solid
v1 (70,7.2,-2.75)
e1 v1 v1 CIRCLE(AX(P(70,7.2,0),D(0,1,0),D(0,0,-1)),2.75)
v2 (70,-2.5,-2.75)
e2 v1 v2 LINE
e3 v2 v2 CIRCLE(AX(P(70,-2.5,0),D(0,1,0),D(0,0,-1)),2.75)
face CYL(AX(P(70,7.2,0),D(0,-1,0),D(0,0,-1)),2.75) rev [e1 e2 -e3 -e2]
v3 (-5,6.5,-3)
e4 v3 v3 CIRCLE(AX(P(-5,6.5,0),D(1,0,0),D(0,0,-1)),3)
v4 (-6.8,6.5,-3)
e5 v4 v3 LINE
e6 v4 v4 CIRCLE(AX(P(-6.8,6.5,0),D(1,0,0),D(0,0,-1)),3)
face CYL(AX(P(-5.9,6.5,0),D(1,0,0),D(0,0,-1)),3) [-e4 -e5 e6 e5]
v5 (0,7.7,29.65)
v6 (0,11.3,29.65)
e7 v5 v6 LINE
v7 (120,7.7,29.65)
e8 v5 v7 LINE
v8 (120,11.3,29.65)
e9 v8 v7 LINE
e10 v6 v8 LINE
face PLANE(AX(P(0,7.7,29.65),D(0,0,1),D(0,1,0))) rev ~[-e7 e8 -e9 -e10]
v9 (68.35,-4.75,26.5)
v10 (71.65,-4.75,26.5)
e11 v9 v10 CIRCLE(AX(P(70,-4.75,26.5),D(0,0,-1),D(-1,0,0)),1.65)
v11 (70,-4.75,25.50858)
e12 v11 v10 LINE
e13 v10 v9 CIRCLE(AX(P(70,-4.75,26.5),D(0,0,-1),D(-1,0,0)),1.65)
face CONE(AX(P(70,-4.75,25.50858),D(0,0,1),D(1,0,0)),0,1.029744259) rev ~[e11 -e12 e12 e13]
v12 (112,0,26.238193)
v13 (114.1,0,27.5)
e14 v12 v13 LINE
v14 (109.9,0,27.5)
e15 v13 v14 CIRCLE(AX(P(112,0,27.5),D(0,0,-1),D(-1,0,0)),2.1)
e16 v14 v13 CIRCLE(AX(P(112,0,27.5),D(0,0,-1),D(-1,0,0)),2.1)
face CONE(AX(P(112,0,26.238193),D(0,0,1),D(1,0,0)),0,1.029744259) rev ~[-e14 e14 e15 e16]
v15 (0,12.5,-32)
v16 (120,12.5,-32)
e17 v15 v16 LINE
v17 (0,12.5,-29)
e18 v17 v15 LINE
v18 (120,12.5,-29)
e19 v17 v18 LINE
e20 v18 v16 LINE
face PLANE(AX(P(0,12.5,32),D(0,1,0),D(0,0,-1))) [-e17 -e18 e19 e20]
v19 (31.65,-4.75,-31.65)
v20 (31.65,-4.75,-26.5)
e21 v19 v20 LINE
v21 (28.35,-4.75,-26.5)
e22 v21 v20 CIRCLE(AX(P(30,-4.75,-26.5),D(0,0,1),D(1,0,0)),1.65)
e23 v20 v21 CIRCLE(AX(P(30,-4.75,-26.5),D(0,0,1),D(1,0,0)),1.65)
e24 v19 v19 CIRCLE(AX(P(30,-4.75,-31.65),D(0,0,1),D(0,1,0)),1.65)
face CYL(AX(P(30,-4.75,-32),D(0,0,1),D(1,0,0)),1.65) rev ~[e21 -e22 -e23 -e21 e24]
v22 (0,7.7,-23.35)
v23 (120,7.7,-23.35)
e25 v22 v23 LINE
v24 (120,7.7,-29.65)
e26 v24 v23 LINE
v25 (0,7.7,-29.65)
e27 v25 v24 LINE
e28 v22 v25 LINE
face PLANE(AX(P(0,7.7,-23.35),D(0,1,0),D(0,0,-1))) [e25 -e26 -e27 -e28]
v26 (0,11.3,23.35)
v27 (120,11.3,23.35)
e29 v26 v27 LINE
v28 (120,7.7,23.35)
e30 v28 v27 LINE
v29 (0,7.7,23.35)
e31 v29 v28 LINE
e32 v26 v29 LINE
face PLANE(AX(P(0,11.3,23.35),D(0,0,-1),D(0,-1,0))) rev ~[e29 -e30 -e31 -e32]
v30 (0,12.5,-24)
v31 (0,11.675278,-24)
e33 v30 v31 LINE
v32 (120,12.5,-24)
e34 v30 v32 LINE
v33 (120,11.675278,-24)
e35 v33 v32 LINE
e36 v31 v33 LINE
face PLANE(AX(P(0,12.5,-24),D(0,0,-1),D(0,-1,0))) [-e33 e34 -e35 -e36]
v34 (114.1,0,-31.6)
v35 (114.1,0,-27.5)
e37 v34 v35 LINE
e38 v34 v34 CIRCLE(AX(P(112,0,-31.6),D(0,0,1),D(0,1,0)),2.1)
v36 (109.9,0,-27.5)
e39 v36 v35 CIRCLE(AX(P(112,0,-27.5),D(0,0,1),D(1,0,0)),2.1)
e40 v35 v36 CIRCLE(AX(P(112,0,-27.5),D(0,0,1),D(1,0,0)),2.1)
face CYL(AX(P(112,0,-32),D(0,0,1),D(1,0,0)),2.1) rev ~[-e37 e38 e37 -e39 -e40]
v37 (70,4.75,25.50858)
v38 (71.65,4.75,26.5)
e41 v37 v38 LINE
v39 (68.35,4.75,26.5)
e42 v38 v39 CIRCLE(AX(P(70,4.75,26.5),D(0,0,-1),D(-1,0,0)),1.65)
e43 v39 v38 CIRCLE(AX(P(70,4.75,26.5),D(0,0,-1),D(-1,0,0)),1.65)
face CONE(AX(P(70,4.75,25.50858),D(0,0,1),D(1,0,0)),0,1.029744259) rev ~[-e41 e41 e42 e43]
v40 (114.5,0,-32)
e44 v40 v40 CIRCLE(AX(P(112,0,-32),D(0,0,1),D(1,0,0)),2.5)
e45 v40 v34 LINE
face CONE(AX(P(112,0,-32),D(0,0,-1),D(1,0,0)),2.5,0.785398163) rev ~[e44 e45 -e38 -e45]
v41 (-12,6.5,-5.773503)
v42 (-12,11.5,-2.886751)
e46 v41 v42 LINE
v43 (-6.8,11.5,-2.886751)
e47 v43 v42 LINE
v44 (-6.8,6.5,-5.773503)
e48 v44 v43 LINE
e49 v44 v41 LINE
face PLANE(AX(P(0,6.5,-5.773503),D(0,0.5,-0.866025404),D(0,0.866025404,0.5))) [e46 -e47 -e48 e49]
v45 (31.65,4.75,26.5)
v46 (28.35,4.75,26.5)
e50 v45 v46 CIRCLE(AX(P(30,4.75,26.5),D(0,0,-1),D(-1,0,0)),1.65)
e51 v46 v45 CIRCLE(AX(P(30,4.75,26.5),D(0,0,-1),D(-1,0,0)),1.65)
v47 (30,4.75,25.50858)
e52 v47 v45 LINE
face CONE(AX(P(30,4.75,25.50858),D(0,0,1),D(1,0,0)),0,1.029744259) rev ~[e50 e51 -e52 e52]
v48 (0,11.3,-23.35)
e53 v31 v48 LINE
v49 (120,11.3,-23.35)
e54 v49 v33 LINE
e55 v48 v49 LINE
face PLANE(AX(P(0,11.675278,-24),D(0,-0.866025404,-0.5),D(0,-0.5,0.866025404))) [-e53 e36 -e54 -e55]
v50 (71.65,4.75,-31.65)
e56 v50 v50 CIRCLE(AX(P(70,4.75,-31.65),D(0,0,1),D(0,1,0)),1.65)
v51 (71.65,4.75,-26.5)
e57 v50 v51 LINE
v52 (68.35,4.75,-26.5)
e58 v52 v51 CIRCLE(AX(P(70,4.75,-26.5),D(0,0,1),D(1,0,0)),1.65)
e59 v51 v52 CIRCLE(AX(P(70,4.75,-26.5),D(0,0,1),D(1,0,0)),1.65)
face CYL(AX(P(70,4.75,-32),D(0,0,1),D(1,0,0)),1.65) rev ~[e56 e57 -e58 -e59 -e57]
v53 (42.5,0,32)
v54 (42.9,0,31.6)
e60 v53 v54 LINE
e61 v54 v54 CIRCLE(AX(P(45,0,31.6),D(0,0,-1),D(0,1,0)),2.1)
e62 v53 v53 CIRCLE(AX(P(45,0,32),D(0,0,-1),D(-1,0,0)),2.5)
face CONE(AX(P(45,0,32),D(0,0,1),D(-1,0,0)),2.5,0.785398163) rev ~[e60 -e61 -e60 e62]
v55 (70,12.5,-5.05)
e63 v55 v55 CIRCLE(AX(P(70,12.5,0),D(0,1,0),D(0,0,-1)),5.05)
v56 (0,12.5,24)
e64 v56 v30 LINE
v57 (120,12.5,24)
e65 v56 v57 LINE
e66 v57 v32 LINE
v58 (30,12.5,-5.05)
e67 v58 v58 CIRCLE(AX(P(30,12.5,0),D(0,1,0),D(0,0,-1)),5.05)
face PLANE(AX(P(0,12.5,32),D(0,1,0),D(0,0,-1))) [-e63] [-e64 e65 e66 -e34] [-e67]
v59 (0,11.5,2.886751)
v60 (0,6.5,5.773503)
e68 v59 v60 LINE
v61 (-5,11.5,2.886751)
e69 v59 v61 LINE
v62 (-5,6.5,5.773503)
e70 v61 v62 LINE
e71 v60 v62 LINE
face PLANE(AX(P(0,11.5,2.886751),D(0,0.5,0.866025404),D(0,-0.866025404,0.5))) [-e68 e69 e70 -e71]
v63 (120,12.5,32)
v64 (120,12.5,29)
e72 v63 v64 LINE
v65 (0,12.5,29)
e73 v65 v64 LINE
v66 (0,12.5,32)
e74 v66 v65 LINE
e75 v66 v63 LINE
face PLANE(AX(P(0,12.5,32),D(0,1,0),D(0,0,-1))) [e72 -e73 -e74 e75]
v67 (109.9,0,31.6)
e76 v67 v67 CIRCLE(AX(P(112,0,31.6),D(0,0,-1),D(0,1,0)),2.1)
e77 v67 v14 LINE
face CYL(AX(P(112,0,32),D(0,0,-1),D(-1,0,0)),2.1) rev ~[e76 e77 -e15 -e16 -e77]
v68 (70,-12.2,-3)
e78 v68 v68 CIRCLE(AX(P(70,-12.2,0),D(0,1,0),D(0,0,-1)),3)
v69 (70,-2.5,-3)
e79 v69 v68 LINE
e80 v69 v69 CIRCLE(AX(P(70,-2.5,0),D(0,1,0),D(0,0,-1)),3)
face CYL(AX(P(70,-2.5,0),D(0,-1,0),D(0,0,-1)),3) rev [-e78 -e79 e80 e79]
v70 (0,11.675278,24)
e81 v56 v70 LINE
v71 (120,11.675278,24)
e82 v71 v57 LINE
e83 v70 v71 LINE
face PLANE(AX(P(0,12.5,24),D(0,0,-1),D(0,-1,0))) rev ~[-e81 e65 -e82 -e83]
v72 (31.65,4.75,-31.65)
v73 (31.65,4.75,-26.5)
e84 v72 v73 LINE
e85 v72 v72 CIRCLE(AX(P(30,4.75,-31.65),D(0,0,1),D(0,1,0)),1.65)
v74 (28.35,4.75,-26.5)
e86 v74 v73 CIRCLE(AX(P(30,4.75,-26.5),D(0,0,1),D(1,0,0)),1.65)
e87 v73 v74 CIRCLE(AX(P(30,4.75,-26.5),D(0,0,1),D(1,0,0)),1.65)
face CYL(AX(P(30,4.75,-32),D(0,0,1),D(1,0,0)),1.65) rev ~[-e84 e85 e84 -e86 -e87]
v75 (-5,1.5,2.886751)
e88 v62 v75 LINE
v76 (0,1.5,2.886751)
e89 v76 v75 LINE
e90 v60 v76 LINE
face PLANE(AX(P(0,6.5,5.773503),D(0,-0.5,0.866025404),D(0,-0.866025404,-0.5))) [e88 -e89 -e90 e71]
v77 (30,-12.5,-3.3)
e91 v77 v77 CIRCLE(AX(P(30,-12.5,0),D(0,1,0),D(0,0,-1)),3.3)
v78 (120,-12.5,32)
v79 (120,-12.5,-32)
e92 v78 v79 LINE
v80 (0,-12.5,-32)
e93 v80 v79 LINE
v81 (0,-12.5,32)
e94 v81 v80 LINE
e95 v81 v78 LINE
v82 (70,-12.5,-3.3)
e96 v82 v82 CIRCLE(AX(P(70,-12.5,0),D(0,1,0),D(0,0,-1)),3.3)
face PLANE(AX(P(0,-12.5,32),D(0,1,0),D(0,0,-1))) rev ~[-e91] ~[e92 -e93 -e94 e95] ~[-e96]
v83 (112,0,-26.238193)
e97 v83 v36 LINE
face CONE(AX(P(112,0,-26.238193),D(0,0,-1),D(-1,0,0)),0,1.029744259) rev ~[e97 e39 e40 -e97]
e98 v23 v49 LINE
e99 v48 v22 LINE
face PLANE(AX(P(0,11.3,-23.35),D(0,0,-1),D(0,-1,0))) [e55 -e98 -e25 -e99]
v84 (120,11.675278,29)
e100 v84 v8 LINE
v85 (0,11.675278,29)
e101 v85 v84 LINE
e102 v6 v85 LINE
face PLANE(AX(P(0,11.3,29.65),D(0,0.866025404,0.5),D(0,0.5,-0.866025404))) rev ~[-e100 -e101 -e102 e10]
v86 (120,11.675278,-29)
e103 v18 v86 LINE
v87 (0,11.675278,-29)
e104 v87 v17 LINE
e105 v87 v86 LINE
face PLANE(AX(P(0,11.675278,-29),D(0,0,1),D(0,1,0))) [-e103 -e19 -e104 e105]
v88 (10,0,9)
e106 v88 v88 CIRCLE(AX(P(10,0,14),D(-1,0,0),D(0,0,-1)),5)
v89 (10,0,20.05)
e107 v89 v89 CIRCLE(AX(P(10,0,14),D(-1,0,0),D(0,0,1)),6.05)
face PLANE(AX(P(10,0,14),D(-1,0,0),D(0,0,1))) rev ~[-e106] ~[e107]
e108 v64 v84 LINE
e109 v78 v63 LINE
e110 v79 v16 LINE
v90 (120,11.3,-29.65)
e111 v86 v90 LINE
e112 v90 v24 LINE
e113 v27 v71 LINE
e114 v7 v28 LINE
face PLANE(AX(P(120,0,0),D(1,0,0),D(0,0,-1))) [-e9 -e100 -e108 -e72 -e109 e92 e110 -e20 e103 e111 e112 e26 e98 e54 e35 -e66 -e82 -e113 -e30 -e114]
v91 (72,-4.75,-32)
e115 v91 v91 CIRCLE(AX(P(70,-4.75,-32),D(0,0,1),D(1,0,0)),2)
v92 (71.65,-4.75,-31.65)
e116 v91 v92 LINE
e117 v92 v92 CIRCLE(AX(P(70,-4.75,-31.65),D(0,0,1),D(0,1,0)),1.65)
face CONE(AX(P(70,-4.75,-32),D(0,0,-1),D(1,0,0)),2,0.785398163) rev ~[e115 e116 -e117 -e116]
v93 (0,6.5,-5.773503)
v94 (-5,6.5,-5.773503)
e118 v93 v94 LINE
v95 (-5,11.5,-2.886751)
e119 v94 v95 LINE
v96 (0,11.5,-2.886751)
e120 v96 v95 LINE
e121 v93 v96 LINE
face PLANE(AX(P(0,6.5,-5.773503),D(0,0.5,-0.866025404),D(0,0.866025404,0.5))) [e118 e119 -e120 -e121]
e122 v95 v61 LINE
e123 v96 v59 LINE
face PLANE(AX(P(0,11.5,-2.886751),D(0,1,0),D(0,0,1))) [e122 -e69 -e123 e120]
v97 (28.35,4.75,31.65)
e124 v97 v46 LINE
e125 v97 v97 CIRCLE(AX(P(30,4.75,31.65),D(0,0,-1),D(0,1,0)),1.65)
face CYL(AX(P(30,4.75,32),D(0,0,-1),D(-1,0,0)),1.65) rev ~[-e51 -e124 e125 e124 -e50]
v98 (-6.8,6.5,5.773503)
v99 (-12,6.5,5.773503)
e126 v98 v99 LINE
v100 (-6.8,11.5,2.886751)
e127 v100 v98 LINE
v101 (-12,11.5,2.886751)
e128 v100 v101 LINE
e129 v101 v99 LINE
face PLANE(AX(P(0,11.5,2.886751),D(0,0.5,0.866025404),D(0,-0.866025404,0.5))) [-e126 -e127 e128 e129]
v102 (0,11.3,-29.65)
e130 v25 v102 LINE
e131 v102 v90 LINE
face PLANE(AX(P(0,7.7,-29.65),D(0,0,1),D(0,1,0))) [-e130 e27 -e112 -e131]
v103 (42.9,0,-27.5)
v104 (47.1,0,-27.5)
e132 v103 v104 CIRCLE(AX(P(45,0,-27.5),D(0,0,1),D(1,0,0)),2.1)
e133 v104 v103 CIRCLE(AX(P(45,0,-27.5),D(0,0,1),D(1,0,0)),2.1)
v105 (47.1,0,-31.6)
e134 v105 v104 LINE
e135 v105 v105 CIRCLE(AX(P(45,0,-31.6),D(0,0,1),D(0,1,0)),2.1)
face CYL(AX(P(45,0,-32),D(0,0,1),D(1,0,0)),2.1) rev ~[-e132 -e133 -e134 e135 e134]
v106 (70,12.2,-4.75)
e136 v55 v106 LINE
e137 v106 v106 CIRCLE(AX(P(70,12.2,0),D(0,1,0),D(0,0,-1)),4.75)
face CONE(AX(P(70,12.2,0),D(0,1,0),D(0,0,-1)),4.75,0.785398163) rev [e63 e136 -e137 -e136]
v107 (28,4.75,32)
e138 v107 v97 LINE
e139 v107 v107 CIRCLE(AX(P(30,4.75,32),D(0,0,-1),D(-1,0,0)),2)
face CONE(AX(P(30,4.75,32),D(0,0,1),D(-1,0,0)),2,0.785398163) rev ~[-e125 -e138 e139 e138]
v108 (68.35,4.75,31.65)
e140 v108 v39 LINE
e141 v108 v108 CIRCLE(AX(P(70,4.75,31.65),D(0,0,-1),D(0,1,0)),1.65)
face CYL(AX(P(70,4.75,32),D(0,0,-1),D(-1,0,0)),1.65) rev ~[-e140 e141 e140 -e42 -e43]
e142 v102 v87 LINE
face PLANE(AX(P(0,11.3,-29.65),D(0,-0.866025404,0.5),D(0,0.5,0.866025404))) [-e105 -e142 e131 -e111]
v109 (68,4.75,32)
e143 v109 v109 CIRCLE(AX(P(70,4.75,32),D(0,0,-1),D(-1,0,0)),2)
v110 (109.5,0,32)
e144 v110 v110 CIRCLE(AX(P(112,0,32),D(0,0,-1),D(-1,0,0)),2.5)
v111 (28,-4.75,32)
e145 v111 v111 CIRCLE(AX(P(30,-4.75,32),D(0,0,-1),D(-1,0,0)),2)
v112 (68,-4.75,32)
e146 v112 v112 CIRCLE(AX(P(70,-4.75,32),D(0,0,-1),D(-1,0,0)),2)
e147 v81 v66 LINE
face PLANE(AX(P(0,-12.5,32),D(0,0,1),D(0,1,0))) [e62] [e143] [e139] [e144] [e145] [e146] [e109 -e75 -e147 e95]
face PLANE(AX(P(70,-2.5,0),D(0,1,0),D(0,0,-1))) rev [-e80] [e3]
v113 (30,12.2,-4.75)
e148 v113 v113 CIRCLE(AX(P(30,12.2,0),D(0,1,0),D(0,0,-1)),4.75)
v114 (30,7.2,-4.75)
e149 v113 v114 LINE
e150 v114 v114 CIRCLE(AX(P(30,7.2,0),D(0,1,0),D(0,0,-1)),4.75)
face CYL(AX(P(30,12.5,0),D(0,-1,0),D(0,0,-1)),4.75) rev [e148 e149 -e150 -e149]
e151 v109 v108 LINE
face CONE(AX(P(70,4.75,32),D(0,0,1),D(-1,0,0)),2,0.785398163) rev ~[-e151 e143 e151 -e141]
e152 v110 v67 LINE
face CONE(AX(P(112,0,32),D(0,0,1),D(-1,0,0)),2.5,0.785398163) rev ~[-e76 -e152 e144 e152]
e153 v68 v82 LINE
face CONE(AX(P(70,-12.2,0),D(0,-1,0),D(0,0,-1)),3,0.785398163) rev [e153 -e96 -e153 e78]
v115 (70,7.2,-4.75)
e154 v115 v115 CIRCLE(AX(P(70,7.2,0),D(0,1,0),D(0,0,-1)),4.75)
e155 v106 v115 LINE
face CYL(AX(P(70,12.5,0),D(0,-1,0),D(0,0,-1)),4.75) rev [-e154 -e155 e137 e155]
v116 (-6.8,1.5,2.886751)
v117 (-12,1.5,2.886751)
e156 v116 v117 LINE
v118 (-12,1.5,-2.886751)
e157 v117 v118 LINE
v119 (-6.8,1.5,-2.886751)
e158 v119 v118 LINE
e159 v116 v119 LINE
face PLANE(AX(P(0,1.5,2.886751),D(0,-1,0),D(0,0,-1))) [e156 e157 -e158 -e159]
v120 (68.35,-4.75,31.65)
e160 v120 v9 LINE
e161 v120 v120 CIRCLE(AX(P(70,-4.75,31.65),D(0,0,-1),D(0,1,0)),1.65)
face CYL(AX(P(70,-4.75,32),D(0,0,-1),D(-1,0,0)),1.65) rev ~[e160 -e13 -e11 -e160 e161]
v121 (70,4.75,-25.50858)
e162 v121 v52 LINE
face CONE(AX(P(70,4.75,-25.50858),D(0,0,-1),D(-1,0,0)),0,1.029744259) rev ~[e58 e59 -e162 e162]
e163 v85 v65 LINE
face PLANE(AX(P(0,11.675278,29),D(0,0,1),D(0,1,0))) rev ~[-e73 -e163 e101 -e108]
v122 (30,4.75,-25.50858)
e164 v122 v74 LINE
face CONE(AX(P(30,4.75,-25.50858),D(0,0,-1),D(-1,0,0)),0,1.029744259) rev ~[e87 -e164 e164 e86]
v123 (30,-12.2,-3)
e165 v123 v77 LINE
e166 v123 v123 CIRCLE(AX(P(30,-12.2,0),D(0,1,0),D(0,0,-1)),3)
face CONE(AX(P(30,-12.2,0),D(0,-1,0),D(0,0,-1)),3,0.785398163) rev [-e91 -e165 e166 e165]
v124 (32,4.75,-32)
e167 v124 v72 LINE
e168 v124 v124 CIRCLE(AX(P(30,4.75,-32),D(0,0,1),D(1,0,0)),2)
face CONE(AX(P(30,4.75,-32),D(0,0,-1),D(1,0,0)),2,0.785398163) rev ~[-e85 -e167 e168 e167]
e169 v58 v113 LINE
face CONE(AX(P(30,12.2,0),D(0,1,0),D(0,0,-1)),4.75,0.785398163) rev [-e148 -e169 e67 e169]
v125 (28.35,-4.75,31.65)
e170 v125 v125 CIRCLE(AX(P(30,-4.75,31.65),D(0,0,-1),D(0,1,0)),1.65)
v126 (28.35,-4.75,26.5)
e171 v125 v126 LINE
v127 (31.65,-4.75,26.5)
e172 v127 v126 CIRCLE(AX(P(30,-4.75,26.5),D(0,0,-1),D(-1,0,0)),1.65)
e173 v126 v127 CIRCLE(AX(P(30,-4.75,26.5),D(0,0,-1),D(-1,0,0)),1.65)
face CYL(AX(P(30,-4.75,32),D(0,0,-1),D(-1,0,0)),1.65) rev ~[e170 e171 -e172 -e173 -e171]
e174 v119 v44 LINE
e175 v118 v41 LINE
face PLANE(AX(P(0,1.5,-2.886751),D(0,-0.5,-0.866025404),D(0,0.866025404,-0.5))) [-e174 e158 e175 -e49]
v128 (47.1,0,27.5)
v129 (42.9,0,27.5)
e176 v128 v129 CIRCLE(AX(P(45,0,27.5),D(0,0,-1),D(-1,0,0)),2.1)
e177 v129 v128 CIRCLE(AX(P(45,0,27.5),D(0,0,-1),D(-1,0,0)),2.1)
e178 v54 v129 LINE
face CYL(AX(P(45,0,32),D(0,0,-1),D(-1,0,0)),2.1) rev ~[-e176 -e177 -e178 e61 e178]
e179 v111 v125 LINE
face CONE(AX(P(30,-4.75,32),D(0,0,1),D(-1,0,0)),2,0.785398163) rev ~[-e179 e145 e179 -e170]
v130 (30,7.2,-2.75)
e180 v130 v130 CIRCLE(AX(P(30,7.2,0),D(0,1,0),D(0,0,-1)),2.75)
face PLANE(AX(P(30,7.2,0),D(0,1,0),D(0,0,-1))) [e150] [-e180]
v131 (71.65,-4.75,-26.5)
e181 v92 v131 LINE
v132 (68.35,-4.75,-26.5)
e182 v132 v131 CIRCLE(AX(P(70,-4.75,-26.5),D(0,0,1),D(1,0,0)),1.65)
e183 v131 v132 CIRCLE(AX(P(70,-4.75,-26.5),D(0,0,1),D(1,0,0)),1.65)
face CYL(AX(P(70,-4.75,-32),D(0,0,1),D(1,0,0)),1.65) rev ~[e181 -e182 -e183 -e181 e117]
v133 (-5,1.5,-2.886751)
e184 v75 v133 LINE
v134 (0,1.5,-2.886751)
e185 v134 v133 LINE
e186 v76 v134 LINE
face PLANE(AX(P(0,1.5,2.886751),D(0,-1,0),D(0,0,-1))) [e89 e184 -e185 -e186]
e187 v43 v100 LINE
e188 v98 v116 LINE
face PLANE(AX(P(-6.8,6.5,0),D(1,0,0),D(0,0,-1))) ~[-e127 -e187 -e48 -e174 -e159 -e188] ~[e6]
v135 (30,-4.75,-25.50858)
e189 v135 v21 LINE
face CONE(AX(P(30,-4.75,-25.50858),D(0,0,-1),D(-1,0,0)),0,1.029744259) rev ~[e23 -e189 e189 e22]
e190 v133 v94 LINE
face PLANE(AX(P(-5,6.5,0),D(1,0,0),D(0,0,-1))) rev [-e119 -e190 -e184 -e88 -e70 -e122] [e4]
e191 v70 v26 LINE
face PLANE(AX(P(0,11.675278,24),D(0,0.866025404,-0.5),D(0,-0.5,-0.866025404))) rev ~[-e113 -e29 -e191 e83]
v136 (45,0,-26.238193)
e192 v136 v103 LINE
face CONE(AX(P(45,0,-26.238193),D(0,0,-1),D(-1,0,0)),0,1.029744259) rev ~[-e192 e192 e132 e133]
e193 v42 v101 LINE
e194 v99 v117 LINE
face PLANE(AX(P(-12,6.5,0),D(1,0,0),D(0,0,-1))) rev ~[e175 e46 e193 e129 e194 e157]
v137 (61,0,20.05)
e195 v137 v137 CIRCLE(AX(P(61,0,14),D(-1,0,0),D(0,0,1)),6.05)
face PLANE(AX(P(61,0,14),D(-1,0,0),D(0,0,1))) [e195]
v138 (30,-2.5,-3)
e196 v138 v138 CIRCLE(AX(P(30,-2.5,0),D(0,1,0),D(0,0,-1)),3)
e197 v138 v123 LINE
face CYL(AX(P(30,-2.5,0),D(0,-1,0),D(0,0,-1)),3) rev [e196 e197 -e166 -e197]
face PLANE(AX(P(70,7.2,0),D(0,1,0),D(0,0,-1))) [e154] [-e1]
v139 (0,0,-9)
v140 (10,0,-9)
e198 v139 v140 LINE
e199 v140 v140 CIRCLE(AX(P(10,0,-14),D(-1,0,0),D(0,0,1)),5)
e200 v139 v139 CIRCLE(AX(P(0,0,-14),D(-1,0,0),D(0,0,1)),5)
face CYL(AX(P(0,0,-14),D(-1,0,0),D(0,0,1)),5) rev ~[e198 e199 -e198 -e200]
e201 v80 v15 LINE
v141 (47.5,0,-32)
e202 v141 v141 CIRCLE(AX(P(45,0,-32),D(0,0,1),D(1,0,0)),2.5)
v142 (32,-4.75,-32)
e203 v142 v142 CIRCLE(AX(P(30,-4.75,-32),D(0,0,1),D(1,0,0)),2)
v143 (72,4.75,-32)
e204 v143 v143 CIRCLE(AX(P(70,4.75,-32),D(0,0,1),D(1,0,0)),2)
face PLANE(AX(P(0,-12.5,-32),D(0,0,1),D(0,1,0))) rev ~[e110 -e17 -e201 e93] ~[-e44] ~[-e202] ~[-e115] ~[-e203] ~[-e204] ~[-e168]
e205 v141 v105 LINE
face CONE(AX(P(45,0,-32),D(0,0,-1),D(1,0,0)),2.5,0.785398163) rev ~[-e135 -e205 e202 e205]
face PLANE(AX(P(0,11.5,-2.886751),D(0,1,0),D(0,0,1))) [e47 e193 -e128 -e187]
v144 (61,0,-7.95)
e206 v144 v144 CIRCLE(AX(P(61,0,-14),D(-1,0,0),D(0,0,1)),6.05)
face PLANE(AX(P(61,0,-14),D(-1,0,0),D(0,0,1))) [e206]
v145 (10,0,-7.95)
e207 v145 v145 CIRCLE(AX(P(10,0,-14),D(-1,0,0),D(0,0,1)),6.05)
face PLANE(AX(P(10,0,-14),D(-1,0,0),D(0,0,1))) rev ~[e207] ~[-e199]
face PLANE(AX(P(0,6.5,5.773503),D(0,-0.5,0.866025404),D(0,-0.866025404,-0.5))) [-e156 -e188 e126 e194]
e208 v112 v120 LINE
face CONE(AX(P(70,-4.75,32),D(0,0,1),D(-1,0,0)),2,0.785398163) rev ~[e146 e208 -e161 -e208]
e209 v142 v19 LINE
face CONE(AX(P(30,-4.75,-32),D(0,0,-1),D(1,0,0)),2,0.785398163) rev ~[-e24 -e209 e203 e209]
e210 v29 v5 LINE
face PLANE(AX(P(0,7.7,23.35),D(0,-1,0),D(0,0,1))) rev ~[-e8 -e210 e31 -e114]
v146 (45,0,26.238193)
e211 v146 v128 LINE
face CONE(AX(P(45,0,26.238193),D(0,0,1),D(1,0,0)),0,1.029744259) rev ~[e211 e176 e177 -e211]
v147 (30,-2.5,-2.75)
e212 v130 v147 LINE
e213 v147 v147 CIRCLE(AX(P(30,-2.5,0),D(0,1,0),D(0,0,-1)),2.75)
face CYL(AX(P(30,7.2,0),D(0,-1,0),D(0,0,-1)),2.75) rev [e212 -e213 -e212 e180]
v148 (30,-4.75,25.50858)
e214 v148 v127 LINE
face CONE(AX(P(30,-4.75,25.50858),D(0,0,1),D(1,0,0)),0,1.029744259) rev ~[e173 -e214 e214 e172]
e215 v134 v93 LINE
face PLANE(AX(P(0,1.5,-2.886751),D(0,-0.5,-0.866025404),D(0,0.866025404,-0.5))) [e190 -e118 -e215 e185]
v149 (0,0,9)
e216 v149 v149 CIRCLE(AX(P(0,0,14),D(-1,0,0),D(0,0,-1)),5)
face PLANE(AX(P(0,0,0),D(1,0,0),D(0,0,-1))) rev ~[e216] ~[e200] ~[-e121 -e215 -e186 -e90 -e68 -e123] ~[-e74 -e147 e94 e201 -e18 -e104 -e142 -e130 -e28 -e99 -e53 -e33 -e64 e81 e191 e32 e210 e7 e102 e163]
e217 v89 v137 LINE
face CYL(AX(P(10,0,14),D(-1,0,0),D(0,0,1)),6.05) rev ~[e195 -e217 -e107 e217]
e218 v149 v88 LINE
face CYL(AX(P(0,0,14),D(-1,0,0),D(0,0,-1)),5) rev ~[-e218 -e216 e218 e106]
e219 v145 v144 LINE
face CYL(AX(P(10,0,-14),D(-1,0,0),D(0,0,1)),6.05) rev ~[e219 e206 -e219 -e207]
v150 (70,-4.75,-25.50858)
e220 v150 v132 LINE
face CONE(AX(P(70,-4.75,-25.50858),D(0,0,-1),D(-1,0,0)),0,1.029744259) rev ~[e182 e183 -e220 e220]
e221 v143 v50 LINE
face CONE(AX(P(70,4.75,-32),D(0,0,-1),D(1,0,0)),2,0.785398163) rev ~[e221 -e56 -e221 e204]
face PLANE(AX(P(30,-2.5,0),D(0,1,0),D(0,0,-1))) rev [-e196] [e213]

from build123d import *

# Parameters (mm, degrees)
BODY_SKETCH_W                                = 64
BODY_SKETCH_H                                = 25
BODY_DEPTH                                   = 120
BODY_ROD_HOLES_SKETCH_R                      = 5
BODY_ROD_HOLES_DEPTH                         = 10
BODY_PISTON_HOLES_SKETCH_R                   = 6.05
BODY_PISTON_HOLES_DEPTH                      = 51
TOP_SWITCH_GROOVES_DEPTH                     = 125.820871652
SHCS_MGT_HOLE_CHAM_SIZE                      = 0.3
SHCS_MGT_HOLE_PAT_COUNT                      = 2
SHCS_MGT_HOLE_PAT_PITCH                      = 40
SHCS_MGT_HOLE_CHAM_OF_SHCS_MGT_HOLE_PAT_SIZE = 0.3
SHCS_MGT_HOLE_BOT_TAP_AT_2_COUNT             = 2
SHCS_MGT_HOLE_BOT_TAP_AT_2_PITCH             = 40
ADJUSTER_NUT_DEPTH                           = 12
ADJUSTER_NUT_THREADS_SKETCH_W                = 1.8
ADJUSTER_NUT_THREADS_SKETCH_H                = 25
TAP_DRILL_FOR_M5X0_8_TAP1_D                  = 4.2
TAP_DRILL_FOR_M5X0_8_TAP1_DEPTH              = 4.5
TAP_DRILL_FOR_M5X0_8_TAP1_CSINK_D            = 5
TAP_DRILL_FOR_M5X0_8_TAP1_CSINK_ANGLE        = 90
TAP_DRILL_FOR_M5X0_8_TAP1_TIP                = 1.2618073
TAP_DRILL_FOR_M5X0_8_TAP2_D                  = 4.2
TAP_DRILL_FOR_M5X0_8_TAP2_DEPTH              = 4.5
TAP_DRILL_FOR_M5X0_8_TAP2_CSINK_D            = 5
TAP_DRILL_FOR_M5X0_8_TAP2_CSINK_ANGLE        = 90
TAP_DRILL_FOR_M5X0_8_TAP2_TIP                = 1.2618073
MOUNT_HOLES_1_D                              = 3.3
MOUNT_HOLES_1_DEPTH                          = 5.5
MOUNT_HOLES_1_CSINK_D                        = 4
MOUNT_HOLES_1_CSINK_ANGLE                    = 90
MOUNT_HOLES_1_TIP                            = 0.991420021
MOUNT_HOLES_2_D                              = 3.3
MOUNT_HOLES_2_DEPTH                          = 5.5
MOUNT_HOLES_2_CSINK_D                        = 4
MOUNT_HOLES_2_CSINK_ANGLE                    = 90
MOUNT_HOLES_2_TIP                            = 0.991420021
MOUNT_HOLES_3_D                              = 3.3
MOUNT_HOLES_3_DEPTH                          = 5.5
MOUNT_HOLES_3_CSINK_D                        = 4
MOUNT_HOLES_3_CSINK_ANGLE                    = 90
MOUNT_HOLES_3_TIP                            = 0.991420021
MOUNT_HOLES_4_D                              = 3.3
MOUNT_HOLES_4_DEPTH                          = 5.5
MOUNT_HOLES_4_CSINK_D                        = 4
MOUNT_HOLES_4_CSINK_ANGLE                    = 90
MOUNT_HOLES_4_TIP                            = 0.991420021


with BuildPart() as part:
    # Body_Sketch → Body (new body)
    with BuildSketch(Plane(origin=(0, 0, 0), x_dir=(0, 0, -1), z_dir=(1, 0, 0))):
        Rectangle(BODY_SKETCH_W, BODY_SKETCH_H)
    extrude(amount=BODY_DEPTH)

    # Body Rod Holes_Sketch → Body Rod Holes (cut)
    with BuildSketch(Plane.ZY):
        with Locations((-14, 0)):
            Circle(BODY_ROD_HOLES_SKETCH_R)
        with Locations(Location((14, 0, 0), (0, 0, 180))):
            Circle(BODY_ROD_HOLES_SKETCH_R)
    extrude(amount=-BODY_ROD_HOLES_DEPTH, mode=Mode.SUBTRACT)

    # Body Piston Holes_Sketch → Body Piston Holes (cut)
    with BuildSketch(Plane.ZY.offset(-10)):
        with Locations((14, 0)):
            Circle(BODY_PISTON_HOLES_SKETCH_R)
        with Locations((-14, 0)):
            Circle(BODY_PISTON_HOLES_SKETCH_R)
    extrude(amount=-BODY_PISTON_HOLES_DEPTH, mode=Mode.SUBTRACT)

    # Top Switch Grooves_Sketch → Top Switch Grooves (cut, through all)
    with BuildSketch(Plane.ZY):
        Polygon((23.35, 7.7), (29.65, 7.7), (29.65, 11.3), (29, 11.675277675), (29, 12.5), (24, 12.5), (24, 11.675277675), (23.35, 11.3), align=None)
        Polygon((-23.35, 11.3), (-23.35, 7.7), (-29.65, 7.7), (-29.65, 11.3), (-29, 11.675277675), (-29, 12.5), (-24, 12.5), (-24, 11.675277675), align=None)
    extrude(amount=-TOP_SWITCH_GROOVES_DEPTH, mode=Mode.SUBTRACT)

    # SHCS MGT Hole_Sketch → SHCS MGT Hole (revolve, cut)
    with BuildSketch(Plane.XY, mode=Mode.PRIVATE) as shcs_mgt_hole_sk:
        Polygon((30, 12.5), (25.25, 12.5), (25.25, 7.2), (27.25, 7.2), (27.25, -12.5), (30, -12.5), align=None)
    shcs_mgt_hole = revolve(shcs_mgt_hole_sk.sketch.rotate(Axis((30, -11.506886035, 0), (0, 1, 0)), 270), axis=Axis((30, -11.506886035, 0), (0, 1, 0)), mode=Mode.SUBTRACT)

    # SHCS MGT Hole Cham
    shcs_mgt_hole_cham_edges = [part.edges().sort_by_distance(p)[0] for p in [
        (30, 12.5, 4.75),
    ]]
    chamfer(shcs_mgt_hole_cham_edges, length=SHCS_MGT_HOLE_CHAM_SIZE)

    # SHCS MGT Hole Pat: SHCS MGT Hole ×2
    with Locations(*[(i * SHCS_MGT_HOLE_PAT_PITCH, 0, 0) for i in range(1, SHCS_MGT_HOLE_PAT_COUNT)]):
        add(shcs_mgt_hole, mode=Mode.SUBTRACT)

    # SHCS MGT Hole Cham of SHCS MGT Hole Pat
    shcs_mgt_hole_cham_of_shcs_mgt_hole_pat_edges = [part.edges().sort_by_distance(p)[0] for p in [
        (70, 12.5, 4.75),
    ]]
    chamfer(shcs_mgt_hole_cham_of_shcs_mgt_hole_pat_edges, length=SHCS_MGT_HOLE_CHAM_OF_SHCS_MGT_HOLE_PAT_SIZE)

    # SHCS MGT Hole Bot Tap Profile → SHCS MGT Hole Bot Tap (revolve, cut)
    with BuildSketch(Plane(origin=(30, -12.5, 0), x_dir=(0, 0, -1), z_dir=(1, 0, 0))):
        Polygon((0, 0), (0, 12.652366702), (2.75, 11), (2.75, 10), (3, 10), (3, 0.3), (3.3, 0), align=None)
    shcs_mgt_hole_bot_tap = revolve(axis=Axis((30, -18.85, 0), (0, 1, 0)), mode=Mode.SUBTRACT)

    # SHCS MGT Hole Bot Tap at 2: SHCS MGT Hole Bot Tap ×2
    with Locations(*[(i * SHCS_MGT_HOLE_BOT_TAP_AT_2_PITCH, 0, 0) for i in range(1, SHCS_MGT_HOLE_BOT_TAP_AT_2_COUNT)]):
        add(shcs_mgt_hole_bot_tap, mode=Mode.SUBTRACT)

    # Adjuster Nut_Sketch → Adjuster Nut (add)
    with BuildSketch(Plane.ZY):
        Polygon((-2.886751346, 11.5), (2.886751346, 11.5), (5.773502692, 6.5), (2.886751346, 1.5), (-2.886751346, 1.5), (-5.773502692, 6.5), align=None)
    extrude(amount=ADJUSTER_NUT_DEPTH)

    # Adjuster Nut Threads_Sketch → Adjuster Nut Threads (revolve, cut)
    with BuildSketch(Plane.XY, mode=Mode.PRIVATE) as adjuster_nut_threads_sk:
        with Locations((-5.9, 22)):
            Rectangle(ADJUSTER_NUT_THREADS_SKETCH_W, ADJUSTER_NUT_THREADS_SKETCH_H)
    revolve(adjuster_nut_threads_sk.sketch.rotate(Axis((-6.476, 6.5, 0), (1, 0, 0)), 270), axis=Axis((-6.476, 6.5, 0), (1, 0, 0)), mode=Mode.SUBTRACT)

    # Tap Drill for M5x0.8 Tap1
    with Locations(Plane.XY.offset(32)):
        with Locations((45, 0), (112, 0)):
            CounterSinkHole(TAP_DRILL_FOR_M5X0_8_TAP1_D / 2, TAP_DRILL_FOR_M5X0_8_TAP1_CSINK_D / 2, depth=TAP_DRILL_FOR_M5X0_8_TAP1_DEPTH, counter_sink_angle=TAP_DRILL_FOR_M5X0_8_TAP1_CSINK_ANGLE)
            with Locations((0, 0, -(TAP_DRILL_FOR_M5X0_8_TAP1_DEPTH + TAP_DRILL_FOR_M5X0_8_TAP1_TIP / 2))):  # 118° drill point
                Cone(0, TAP_DRILL_FOR_M5X0_8_TAP1_D / 2, TAP_DRILL_FOR_M5X0_8_TAP1_TIP, mode=Mode.SUBTRACT)

    # Tap Drill for M5x0.8 Tap2
    with Locations(Plane(origin=(0, 0, -32), x_dir=(-1, 0, 0), z_dir=(0, 0, -1))):
        with Locations((-112, 0), (-45, 0)):
            CounterSinkHole(TAP_DRILL_FOR_M5X0_8_TAP2_D / 2, TAP_DRILL_FOR_M5X0_8_TAP2_CSINK_D / 2, depth=TAP_DRILL_FOR_M5X0_8_TAP2_DEPTH, counter_sink_angle=TAP_DRILL_FOR_M5X0_8_TAP2_CSINK_ANGLE)
            with Locations((0, 0, -(TAP_DRILL_FOR_M5X0_8_TAP2_DEPTH + TAP_DRILL_FOR_M5X0_8_TAP2_TIP / 2))):  # 118° drill point
                Cone(0, TAP_DRILL_FOR_M5X0_8_TAP2_D / 2, TAP_DRILL_FOR_M5X0_8_TAP2_TIP, mode=Mode.SUBTRACT)

    # Mount_Holes_1
    with Locations(Plane.XY.offset(32)):
        with Locations((30, -4.75), (70, -4.75)):
            CounterSinkHole(MOUNT_HOLES_1_D / 2, MOUNT_HOLES_1_CSINK_D / 2, depth=MOUNT_HOLES_1_DEPTH, counter_sink_angle=MOUNT_HOLES_1_CSINK_ANGLE)
            with Locations((0, 0, -(MOUNT_HOLES_1_DEPTH + MOUNT_HOLES_1_TIP / 2))):  # 118° drill point
                Cone(0, MOUNT_HOLES_1_D / 2, MOUNT_HOLES_1_TIP, mode=Mode.SUBTRACT)

    # Mount_Holes_2
    with Locations(Plane(origin=(0, 0, -32), x_dir=(-1, 0, 0), z_dir=(0, 0, -1))):
        with Locations((-70, -4.75), (-30, -4.75)):
            CounterSinkHole(MOUNT_HOLES_2_D / 2, MOUNT_HOLES_2_CSINK_D / 2, depth=MOUNT_HOLES_2_DEPTH, counter_sink_angle=MOUNT_HOLES_2_CSINK_ANGLE)
            with Locations((0, 0, -(MOUNT_HOLES_2_DEPTH + MOUNT_HOLES_2_TIP / 2))):  # 118° drill point
                Cone(0, MOUNT_HOLES_2_D / 2, MOUNT_HOLES_2_TIP, mode=Mode.SUBTRACT)

    # Mount_Holes_3
    with Locations(Plane.XY.offset(32)):
        with Locations((30, 4.75), (70, 4.75)):
            CounterSinkHole(MOUNT_HOLES_3_D / 2, MOUNT_HOLES_3_CSINK_D / 2, depth=MOUNT_HOLES_3_DEPTH, counter_sink_angle=MOUNT_HOLES_3_CSINK_ANGLE)
            with Locations((0, 0, -(MOUNT_HOLES_3_DEPTH + MOUNT_HOLES_3_TIP / 2))):  # 118° drill point
                Cone(0, MOUNT_HOLES_3_D / 2, MOUNT_HOLES_3_TIP, mode=Mode.SUBTRACT)

    # Mount_Holes_4
    with Locations(Plane(origin=(0, 0, -32), x_dir=(-1, 0, 0), z_dir=(0, 0, -1))):
        with Locations((-70, 4.75), (-30, 4.75)):
            CounterSinkHole(MOUNT_HOLES_4_D / 2, MOUNT_HOLES_4_CSINK_D / 2, depth=MOUNT_HOLES_4_DEPTH, counter_sink_angle=MOUNT_HOLES_4_CSINK_ANGLE)
            with Locations((0, 0, -(MOUNT_HOLES_4_DEPTH + MOUNT_HOLES_4_TIP / 2))):  # 118° drill point
                Cone(0, MOUNT_HOLES_4_D / 2, MOUNT_HOLES_4_TIP, mode=Mode.SUBTRACT)


solid = part.part
